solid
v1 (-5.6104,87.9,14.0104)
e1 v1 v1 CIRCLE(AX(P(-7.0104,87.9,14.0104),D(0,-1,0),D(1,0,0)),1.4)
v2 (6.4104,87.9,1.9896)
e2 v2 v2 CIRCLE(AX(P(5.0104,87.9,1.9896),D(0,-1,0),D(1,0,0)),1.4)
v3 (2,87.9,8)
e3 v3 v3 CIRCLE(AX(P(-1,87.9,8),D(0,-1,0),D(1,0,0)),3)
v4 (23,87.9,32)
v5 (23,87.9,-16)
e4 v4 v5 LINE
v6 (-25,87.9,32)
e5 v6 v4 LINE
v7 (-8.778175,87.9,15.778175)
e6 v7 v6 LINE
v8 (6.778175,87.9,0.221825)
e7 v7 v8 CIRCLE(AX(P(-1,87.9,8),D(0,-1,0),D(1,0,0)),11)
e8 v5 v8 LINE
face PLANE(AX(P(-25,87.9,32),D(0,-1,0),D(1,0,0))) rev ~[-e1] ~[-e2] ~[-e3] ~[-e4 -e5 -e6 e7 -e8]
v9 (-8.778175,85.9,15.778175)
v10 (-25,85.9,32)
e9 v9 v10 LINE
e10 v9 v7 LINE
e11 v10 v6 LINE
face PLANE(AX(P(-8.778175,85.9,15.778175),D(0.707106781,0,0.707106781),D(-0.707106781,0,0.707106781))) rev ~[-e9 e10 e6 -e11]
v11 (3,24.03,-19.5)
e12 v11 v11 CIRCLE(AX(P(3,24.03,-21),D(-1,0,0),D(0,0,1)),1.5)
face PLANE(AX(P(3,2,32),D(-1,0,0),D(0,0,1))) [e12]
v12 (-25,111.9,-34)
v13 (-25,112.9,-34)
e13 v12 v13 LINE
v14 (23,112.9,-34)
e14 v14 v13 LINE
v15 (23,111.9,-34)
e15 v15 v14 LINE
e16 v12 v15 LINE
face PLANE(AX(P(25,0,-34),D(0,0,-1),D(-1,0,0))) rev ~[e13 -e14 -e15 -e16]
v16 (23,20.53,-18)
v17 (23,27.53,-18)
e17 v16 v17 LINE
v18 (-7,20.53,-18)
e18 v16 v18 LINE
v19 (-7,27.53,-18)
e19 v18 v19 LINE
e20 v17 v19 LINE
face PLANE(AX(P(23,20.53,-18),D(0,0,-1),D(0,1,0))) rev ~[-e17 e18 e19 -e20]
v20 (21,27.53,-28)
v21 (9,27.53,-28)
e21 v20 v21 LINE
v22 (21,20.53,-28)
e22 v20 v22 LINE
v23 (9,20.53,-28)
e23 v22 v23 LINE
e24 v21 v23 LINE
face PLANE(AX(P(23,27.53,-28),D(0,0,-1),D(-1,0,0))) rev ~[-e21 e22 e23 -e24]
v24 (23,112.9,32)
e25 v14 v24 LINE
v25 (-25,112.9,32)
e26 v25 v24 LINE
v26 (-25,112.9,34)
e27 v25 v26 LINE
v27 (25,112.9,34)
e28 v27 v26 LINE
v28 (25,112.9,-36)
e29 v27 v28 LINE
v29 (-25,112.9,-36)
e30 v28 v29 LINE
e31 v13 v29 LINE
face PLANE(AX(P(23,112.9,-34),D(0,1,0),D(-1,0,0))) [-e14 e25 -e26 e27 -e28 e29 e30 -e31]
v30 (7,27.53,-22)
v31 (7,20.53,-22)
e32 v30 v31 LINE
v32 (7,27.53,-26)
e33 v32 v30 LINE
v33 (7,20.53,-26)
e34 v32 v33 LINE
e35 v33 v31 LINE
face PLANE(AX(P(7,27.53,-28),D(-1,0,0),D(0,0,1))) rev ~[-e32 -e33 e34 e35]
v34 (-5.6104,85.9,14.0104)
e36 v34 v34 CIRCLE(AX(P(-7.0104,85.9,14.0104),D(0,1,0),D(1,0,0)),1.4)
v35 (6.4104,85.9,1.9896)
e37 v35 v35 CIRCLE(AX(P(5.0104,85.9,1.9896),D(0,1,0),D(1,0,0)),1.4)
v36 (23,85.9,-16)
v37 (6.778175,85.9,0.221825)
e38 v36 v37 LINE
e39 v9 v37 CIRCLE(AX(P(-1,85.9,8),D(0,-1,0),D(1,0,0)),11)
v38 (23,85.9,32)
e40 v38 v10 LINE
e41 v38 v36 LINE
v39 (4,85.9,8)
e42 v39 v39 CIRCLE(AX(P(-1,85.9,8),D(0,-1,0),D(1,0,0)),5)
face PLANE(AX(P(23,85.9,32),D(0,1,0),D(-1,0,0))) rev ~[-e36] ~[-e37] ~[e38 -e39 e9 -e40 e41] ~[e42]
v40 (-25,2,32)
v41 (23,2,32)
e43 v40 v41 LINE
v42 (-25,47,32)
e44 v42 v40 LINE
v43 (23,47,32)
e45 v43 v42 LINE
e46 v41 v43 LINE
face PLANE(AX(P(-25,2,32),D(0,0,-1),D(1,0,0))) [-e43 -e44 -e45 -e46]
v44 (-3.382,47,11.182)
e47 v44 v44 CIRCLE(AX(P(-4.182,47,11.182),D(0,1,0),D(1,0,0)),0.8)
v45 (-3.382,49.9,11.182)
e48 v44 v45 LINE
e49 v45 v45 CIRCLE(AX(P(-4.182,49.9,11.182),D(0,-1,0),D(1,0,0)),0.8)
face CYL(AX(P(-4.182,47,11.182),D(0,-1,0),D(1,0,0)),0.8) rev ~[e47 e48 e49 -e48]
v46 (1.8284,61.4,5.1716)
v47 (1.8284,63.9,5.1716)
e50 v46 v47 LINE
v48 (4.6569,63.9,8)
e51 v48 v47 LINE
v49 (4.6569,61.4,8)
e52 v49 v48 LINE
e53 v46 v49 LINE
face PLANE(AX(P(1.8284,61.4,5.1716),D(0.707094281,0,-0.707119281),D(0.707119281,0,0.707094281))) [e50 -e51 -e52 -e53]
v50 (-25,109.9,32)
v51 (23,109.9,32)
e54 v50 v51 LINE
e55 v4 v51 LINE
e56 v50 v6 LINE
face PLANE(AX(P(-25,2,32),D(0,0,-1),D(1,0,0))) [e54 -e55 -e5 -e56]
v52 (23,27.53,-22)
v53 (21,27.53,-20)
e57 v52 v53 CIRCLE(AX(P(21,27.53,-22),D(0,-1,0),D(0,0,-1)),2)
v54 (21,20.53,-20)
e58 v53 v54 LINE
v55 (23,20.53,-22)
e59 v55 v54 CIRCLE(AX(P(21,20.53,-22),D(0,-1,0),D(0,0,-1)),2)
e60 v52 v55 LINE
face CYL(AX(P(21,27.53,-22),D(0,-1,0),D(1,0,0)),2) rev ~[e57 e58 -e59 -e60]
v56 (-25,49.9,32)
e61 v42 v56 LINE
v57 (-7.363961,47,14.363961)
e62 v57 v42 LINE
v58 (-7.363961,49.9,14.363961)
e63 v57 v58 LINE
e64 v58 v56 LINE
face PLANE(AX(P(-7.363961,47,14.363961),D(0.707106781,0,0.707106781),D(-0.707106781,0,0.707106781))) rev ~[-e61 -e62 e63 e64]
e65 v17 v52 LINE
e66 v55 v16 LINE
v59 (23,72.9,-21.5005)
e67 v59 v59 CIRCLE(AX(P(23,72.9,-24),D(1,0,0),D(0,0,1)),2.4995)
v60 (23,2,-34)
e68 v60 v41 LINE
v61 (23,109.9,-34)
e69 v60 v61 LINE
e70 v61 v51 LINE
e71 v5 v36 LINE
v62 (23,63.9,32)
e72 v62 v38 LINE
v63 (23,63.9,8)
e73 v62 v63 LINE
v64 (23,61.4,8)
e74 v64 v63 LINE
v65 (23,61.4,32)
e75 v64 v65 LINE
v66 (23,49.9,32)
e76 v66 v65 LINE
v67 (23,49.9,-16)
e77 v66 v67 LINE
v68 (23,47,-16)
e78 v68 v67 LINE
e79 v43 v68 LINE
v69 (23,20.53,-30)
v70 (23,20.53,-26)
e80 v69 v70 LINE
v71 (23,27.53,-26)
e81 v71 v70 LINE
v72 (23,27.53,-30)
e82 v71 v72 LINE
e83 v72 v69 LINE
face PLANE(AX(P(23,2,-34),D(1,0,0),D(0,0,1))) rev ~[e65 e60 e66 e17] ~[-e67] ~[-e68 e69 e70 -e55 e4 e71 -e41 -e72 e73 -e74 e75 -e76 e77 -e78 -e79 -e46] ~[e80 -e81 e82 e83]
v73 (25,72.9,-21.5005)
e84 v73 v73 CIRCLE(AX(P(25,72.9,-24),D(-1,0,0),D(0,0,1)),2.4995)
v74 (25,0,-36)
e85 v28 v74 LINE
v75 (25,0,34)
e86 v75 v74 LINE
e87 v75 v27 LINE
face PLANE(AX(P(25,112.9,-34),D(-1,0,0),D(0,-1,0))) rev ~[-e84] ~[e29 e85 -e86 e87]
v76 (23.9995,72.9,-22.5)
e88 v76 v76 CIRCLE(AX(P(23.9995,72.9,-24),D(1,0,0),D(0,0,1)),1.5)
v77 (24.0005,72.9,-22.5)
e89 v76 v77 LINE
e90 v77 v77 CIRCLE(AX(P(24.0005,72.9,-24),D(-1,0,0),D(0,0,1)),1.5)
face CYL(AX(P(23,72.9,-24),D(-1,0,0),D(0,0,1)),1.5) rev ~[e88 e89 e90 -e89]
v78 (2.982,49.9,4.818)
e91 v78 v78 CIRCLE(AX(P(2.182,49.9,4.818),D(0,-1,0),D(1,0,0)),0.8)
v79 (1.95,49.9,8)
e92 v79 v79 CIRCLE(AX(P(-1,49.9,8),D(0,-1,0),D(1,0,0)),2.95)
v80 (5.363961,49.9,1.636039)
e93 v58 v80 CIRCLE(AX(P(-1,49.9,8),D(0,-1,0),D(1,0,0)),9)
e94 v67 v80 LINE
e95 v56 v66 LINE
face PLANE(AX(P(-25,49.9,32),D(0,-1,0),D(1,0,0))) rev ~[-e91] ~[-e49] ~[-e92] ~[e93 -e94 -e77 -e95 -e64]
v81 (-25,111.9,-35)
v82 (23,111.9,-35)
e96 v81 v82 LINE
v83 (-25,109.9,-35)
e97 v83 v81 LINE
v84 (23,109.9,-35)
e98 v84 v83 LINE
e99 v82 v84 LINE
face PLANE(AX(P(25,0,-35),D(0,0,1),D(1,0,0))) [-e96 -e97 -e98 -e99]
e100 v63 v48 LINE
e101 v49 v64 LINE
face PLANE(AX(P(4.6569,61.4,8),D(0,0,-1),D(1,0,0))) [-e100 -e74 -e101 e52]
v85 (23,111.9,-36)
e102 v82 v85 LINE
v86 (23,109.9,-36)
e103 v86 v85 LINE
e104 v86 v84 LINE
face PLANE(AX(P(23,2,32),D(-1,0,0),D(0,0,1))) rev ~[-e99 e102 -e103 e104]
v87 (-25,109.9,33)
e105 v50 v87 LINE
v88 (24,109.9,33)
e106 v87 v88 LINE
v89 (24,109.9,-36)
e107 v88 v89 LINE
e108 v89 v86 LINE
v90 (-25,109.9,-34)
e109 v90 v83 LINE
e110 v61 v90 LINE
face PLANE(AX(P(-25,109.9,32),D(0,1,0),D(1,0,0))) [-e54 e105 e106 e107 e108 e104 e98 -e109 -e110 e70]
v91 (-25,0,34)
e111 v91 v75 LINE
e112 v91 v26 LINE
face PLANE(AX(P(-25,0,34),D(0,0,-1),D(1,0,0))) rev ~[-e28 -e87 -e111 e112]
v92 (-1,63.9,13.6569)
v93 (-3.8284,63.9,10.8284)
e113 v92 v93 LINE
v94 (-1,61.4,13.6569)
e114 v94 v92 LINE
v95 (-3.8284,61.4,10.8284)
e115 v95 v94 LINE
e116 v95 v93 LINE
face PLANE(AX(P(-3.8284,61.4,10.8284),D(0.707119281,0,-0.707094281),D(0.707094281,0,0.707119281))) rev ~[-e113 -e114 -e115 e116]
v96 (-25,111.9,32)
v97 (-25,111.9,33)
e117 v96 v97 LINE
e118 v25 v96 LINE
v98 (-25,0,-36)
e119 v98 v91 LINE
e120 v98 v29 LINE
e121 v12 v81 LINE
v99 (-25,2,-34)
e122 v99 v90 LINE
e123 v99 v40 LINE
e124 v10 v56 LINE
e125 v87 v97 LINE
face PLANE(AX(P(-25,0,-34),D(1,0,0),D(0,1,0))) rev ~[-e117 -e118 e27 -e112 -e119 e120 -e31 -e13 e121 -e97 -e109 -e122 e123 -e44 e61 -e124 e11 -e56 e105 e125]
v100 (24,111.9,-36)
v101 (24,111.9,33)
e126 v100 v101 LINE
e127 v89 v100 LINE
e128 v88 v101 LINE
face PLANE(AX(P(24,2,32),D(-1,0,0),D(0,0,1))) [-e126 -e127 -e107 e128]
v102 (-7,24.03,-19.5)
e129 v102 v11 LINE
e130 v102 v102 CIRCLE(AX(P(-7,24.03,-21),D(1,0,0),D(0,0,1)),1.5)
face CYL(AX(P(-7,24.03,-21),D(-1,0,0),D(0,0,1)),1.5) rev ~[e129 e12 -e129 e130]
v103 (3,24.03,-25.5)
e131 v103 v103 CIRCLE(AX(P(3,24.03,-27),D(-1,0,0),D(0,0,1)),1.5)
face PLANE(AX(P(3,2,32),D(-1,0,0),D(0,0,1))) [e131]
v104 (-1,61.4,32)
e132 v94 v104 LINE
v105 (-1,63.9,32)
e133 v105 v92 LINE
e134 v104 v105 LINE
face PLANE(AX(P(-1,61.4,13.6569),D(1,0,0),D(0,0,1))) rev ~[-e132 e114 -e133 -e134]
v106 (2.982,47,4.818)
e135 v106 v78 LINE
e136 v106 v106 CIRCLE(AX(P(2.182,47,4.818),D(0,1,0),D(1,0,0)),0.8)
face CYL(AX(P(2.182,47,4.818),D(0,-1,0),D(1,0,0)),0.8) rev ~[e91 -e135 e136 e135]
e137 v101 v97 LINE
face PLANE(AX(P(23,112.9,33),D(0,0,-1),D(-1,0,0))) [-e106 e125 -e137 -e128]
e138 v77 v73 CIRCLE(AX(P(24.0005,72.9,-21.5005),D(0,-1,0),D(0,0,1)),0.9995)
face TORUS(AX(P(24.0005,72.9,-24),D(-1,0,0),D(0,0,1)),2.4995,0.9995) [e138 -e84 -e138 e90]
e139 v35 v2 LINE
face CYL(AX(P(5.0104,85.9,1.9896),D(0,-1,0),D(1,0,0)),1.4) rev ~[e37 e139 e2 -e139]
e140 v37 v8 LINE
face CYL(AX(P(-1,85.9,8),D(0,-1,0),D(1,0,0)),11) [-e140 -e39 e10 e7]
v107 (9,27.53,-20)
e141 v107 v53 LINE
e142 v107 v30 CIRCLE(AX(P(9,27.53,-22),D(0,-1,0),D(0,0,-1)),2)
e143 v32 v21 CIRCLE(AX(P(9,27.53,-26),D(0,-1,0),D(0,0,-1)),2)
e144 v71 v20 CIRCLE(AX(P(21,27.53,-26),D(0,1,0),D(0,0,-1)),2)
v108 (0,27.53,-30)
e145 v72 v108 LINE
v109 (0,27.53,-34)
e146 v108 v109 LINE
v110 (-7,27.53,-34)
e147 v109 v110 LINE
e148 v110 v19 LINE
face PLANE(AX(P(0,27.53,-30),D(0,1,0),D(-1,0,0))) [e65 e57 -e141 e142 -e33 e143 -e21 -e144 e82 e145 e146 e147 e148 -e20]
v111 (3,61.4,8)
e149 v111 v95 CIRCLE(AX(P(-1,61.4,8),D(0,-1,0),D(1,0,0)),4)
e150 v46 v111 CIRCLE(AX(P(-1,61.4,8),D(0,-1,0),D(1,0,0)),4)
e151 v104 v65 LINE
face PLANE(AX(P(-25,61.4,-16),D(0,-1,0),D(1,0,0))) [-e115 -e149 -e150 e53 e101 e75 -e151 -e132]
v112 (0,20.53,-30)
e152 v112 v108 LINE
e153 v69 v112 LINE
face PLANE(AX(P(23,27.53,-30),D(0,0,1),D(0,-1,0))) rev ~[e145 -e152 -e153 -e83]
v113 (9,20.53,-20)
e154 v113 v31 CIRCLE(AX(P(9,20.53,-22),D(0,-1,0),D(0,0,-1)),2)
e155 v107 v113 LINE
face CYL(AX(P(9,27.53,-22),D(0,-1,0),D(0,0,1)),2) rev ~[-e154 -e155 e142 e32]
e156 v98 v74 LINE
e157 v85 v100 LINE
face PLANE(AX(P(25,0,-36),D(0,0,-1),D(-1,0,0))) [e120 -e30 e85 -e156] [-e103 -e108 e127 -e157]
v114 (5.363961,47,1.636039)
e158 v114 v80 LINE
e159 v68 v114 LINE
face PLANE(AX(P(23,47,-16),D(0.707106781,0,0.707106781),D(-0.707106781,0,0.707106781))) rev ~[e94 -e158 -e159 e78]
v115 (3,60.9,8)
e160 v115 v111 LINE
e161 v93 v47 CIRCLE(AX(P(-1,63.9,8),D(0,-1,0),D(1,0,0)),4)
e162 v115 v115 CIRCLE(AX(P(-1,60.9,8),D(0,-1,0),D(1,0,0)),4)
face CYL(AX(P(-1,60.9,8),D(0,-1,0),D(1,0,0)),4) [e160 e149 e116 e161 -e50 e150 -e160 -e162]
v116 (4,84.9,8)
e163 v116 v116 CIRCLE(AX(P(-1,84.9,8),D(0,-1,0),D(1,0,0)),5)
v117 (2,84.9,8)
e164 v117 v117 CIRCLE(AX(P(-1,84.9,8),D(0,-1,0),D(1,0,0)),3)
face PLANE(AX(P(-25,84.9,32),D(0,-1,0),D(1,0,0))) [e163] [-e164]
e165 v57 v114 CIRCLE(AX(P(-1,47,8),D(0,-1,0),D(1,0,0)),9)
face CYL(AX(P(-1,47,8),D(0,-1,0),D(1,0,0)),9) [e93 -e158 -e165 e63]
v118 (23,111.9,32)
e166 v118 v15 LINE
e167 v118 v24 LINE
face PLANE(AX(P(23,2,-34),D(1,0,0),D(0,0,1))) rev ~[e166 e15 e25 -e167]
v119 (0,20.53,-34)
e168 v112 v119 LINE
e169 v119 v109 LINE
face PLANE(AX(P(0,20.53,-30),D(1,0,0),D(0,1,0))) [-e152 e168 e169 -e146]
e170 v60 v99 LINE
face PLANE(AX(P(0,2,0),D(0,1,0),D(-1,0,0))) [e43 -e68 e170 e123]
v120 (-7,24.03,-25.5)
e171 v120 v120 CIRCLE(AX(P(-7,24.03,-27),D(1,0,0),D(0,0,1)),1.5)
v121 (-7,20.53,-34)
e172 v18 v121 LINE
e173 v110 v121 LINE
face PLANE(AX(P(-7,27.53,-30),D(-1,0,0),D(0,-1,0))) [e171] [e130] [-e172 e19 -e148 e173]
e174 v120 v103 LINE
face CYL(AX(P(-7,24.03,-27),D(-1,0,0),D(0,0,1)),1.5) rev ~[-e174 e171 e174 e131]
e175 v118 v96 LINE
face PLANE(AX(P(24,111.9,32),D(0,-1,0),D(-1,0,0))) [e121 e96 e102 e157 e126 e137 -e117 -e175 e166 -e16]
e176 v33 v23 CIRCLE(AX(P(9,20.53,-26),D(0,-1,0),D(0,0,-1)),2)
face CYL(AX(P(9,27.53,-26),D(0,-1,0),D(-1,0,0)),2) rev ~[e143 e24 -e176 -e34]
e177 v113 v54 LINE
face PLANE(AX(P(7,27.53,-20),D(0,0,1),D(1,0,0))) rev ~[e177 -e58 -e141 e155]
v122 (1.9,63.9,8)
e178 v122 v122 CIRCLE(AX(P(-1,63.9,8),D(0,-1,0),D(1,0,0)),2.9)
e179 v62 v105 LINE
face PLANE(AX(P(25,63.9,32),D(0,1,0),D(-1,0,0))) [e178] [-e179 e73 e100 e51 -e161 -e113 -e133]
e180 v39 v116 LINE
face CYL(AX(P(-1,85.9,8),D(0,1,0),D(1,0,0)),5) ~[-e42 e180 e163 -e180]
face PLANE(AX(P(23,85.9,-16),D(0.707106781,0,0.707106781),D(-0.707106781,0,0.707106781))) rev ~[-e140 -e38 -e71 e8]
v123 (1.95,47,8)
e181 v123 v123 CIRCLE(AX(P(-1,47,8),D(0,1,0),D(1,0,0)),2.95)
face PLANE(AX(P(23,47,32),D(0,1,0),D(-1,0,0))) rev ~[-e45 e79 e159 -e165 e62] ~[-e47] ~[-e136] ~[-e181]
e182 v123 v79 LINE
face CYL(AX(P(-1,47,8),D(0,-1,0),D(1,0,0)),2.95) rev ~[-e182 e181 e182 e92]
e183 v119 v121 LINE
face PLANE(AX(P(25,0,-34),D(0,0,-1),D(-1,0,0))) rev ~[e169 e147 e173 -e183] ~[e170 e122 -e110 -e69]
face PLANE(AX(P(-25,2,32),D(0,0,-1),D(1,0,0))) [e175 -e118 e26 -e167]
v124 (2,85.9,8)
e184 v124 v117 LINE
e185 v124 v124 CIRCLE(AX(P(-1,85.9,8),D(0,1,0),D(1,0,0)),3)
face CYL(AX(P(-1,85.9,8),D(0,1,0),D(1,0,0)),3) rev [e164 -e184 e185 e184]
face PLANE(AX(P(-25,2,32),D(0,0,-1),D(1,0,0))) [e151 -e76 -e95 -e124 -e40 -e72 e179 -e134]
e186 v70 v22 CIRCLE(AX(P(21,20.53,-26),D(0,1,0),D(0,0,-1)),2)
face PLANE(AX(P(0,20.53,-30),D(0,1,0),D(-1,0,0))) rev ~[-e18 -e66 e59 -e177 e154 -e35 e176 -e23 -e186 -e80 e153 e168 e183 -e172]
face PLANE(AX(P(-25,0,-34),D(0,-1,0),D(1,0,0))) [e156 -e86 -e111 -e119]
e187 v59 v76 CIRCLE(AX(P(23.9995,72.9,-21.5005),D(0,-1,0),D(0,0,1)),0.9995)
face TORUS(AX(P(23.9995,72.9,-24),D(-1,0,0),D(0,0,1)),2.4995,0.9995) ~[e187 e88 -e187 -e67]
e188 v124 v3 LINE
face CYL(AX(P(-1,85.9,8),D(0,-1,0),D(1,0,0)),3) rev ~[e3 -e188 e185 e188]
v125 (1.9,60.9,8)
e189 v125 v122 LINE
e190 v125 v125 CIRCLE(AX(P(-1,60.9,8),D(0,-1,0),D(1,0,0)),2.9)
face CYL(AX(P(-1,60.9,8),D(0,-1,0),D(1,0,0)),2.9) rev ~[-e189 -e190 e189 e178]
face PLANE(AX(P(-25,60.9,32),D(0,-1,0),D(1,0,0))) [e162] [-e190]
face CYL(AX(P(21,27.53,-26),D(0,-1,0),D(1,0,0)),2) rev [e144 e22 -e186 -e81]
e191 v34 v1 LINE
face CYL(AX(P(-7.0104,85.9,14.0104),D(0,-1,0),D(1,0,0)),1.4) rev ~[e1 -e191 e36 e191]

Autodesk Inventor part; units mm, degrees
ref_plane "YZ Plane" through (0, 0, 0) normal (1, 0, 0) x (0, 1, 0)
ref_plane "XZ Plane" through (0, 0, 0) normal (0, 1, 0) x (-1, 0, 0)
ref_plane "XY Plane" through (0, 0, 0) normal (0, 0, 1) x (1, 0, 0)
sketch "Sketch1" plane through (0, 0, 0) normal (0, 1, 0) x (-1, 0, 0)
  line L0 (25, 34) -> (-25, 34)
  line L1 (-25, 34) -> (-25, -34)
  line L2 (-25, -34) -> (25, -34)
  line L3 (25, -34) -> (25, 34)
  line L4 (25, 34) -> (-25, -34) construction
  line L5 (-25, 34) -> (25, -34) construction
  point P0 (0, 0)
  dimension "d0" = 68
  dimension "d1" = 50
extrude "left wall" add sketch "Sketch1" along normal blind 2
sketch "Sketch3" plane through (0, 2, 0) normal (0, 1, 0) x (1, 0, 0)
  line L0 (25, -34) -> (25, 34) projected
  line L1 (-25, 34) -> (-25, -34) projected
  line L2 (25, -34) -> (-25, -34)
  line L3 (-25, -34) -> (-25, -32)
  line L4 (-25, -32) -> (25, -32)
  line L5 (25, -32) -> (25, -34)
  point P0 (0, 0)
  dimension "d4" = 2
extrude "bottom wall" add sketch "Sketch3" along normal blind 110.9
sketch "Sketch10" plane through (-25, 2, 32) normal (0, 0, -1) x (-1, 0, 0)
  line L0 (0, 0) -> (0, 110.9) projected
  line L1 (-50, 0) -> (-50, 110.9) projected
  line L2 (0, 58.9) -> (-50, 58.9)
  line L3 (-50, 58.9) -> (-50, 61.9)
  line L4 (-50, 61.9) -> (0, 61.9)
  line L5 (0, 61.9) -> (0, 58.9)
  line L6 (-50, 0) -> (0, 0) projected
  point P0 (-25, -2)
  point P1 (0, 61.9)
  point P2 (-50, 58.9)
  dimension "d33" = 3
  dimension "d34" = 58.9
extrude "mid wall" add sketch "Sketch10" along normal blind 48 contours L2 L1 L4 L0
sketch "Sketch11" plane through (-25, 60.9, 32) normal (0, -1, 0) x (1, 0, 0)
  circle A0 centre (24, -24) radius 2.9
  line L0 (0, 0) -> (0, -48) projected
  line L1 (0, -48) -> (50, -48) projected
  dimension "d37" = 5.8
  dimension "d136" = 24
  dimension "d137" = 24
extrude "middle bearing hole" cut sketch "Sketch11" against normal blind 48
sketch "Sketch15" plane through (0, 2, 0) normal (0, 1, 0) x (1, 0, 0)
  line L0 (25, 34) -> (-25, 34) projected
  line L1 (-25, -32) -> (25, -32) projected
  line L2 (25, 34) -> (23, 34)
  line L3 (23, 34) -> (23, -32)
  line L4 (23, -32) -> (25, -32)
  line L5 (25, -32) -> (25, 34)
  point P0 (0, 0)
  point P1 (25, -32)
  dimension "d69" = 2
extrude "back wall" add sketch "Sketch15" along normal blind 110.9
sketch "Sketch20" plane through (-25, 60.9, -16) normal (0, -1, 0) x (1, 0, 0)
  circle A0 centre (24, 24) radius 4
  line L0 (0, 48) -> (48, 48) projected
  line L1 (48, -18) -> (0, -18)
  line L2 (0, -18) -> (0, 48)
  line L3 (0, 48) -> (48, 48)
  line L4 (48, 48) -> (48, -18)
  line L5 (0, 0) -> (48, 0) projected
  point P0 (25, 16)
  point P1 (48, 48)
  point P2 (24, 0)
  dimension "d106" = 8
  dimension "d138" = 24
  dimension "d139" = 24
extrude "thicker mid wall ring for bearing" cut sketch "Sketch20" against normal blind 0.5
sketch "Sketch21" plane through (23, 2, 32) normal (0, 0, -1) x (-1, 0, 0)
  line L0 (0, 0) -> (0, 59.4) projected
  line L1 (48, -2) -> (48, 110.9) projected
  line L2 (0, 45) -> (48, 45)
  line L3 (48, 45) -> (48, 47.9)
  line L4 (48, 47.9) -> (0, 47.9)
  line L5 (0, 47.9) -> (0, 45)
  line L6 (0, 0) -> (48, 0) projected
  point P0 (23, -2)
  dimension "d110" = 45
  dimension "d111" = 2.9
extrude "motor attachment wall" add sketch "Sketch21" along normal up to surface (66 mm away) contours L0 L4 L1 L2
sketch "Sketch24" plane through (-25, 47, 32) normal (0, -1, 0) x (1, 0, 0)
  circle A0 centre (24, -24) radius 2.95
  circle A1 centre (20.818, -20.818) radius 0.8
  circle A2 centre (27.182, -27.182) radius 0.8
  line L0 (48, -66) -> (48, 0) projected
  line L1 (0, 0) -> (0, -66) projected
  line L2 (48, 0) -> (0, 0)
  line L3 (0, 0) -> (0, -48)
  line L4 (0, -48) -> (48, -48)
  line L5 (48, -48) -> (48, 0)
  line L6 (48, -48) -> (0, 0)
  point P0 (25, 14.5)
  dimension "d119" = 5.9
  dimension "d125" = 48
  dimension "d126" = 62.5
  dimension "d127" = 24
  dimension "d128" = 24
  dimension "d131" = 1.6
  dimension "d132" = 4.5
  dimension "d133" = 4.5
extrude "motor holes" cut sketch "Sketch24" against normal up to surface (2.9 mm away) contours A0 L6 | L6 A0 | L6 A1 | A1 L6 | L6 A2 | A2 L6
sketch "Sketch25" plane through (-25, 47, 32) normal (0, -1, 0) x (1, 0, 0)
  line L0 (48, -48) -> (0, 0)
  line L1 (0, 0) -> (0, -66) projected
  line L2 (0, 0) -> (0, -66)
  line L3 (48, -66) -> (0, -66) projected
  circle A0 centre (24, -24) radius 2.95 projected
  circle A1 centre (24, -24) radius 9
  line L4 (48, -48) -> (0, -48) projected
  line L5 (48, -48) -> (48, -66)
  line L6 (50, 2) -> (50, -66) projected
  line L7 (0, 0) -> (0, 2) projected
  line L8 (0, -66) -> (0, 0)
  point P0 (25, -32)
  point P1 (30.364, -30.364)
  point P2 (17.636, -17.636)
  dimension "d134" = 18
extrude "motor attachment wall cut out" cut sketch "Sketch25" against normal blind 3.075 contours L4 L1 L0 A1 | L5 L3 L1 L4
sketch "Sketch26" plane through (-25, 61.4, -16) normal (0, -1, 0) x (1, 0, 0)
  line L0 (48, 0) -> (0, 48)
  circle A0 centre (24, 24) radius 4
  circle A1 centre (24, 24) radius 2.9 projected
  line L1 (0, 0) -> (48, 0) projected
  line L2 (48, 0) -> (0, 0)
  line L3 (0, 48) -> (0, 50) projected
  line L4 (0, 0) -> (0, 48)
  line L5 (24, 24) -> (48, 24)
  line L6 (48, 48) -> (48, 0) projected
  line L7 (24, 24) -> (24, 48)
  line L8 (48, 48) -> (0, 48) projected
  line L9 (21.1716, 26.8284) -> (24, 29.6569)
  line L10 (26.8284, 21.1716) -> (29.6569, 24)
  point P0 (25, -38)
  point P1 (24, 28)
  dimension "d140" = 8
extrude "mid wall cut out" cut sketch "Sketch26" against normal blind 3.075 contours L1 L4 L0 A0 | L0 L10 L5 L6 | L0 L8 L7 L9
sketch "Sketch27" plane through (23, 112.9, 32) normal (0, 0, -1) x (-1, 0, 0)
  line L0 (0, 0) -> (0, -49) projected
  line L1 (48, -112.9) -> (48, 0) projected
  line L2 (0, -27) -> (48, -27)
  line L3 (48, -27) -> (48, -25)
  line L4 (48, -25) -> (0, -25)
  line L5 (0, -25) -> (0, -27)
  line L6 (0, -110.9) -> (48, -110.9) projected
  point P0 (23, -112.9)
  point P1 (0, -25)
  dimension "d144" = 83.9
  dimension "d145" = 2
extrude "encoder wall" add sketch "Sketch27" along normal blind 48
sketch "Sketch28" plane through (-25, 85.9, 32) normal (0, -1, 0) x (1, 0, 0)
  line L0 (48, -48) -> (48, 0) projected
  line L1 (0, 0) -> (0, 2) projected
  line L2 (48, -48) -> (0, 0)
  circle A0 centre (24, -24) radius 3
  circle A1 centre (30.0104, -30.0104) radius 1.4
  circle A2 centre (17.9896, -17.9896) radius 1.4
  dimension "d153" = 6
  dimension "d154" = 8.5
  dimension "d155" = 8.5
  dimension "d156" = 2.8
  dimension "d157" = 2.8
extrude "encoder holes" cut sketch "Sketch28" against normal blind 48
sketch "Sketch29" plane through (-25, 85.9, 32) normal (0, -1, 0) x (1, 0, 0)
  line L0 (0, -48) -> (48, -48) projected
  line L1 (48, 0) -> (0, 0) projected
  line L2 (48, -48) -> (0, 0)
  circle A0 centre (24, -24) radius 11
  line L3 (0, 0) -> (0, 2) projected
  line L4 (0, 0) -> (0, -48)
  line L5 (0, -48) -> (48, -48)
  point P0 (25, -32)
  point P1 (31.7782, -31.7782)
  point P2 (16.2218, -16.2218)
  dimension "d160" = 22
extrude "encoder wall cut out" cut sketch "Sketch29" against normal blind 48 contours L4 L2 A0 L0
sketch "Sketch30" plane through (25, 0, -34) normal (0, 0, -1) x (-1, 0, 0)
  line L0 (2, 112.9) -> (50, 112.9) projected
  line L1 (50, 0) -> (0, 0) projected
  line L2 (50, 112.9) -> (0, 112.9)
  line L3 (0, 112.9) -> (0, 0)
  line L4 (0, 0) -> (50, 0)
  line L5 (50, 0) -> (50, 112.9)
  point P0 (25, 0)
extrude "top" add sketch "Sketch30" along normal blind 2
sketch "Sketch31" plane through (25, 0, -34) normal (0, 0, 1) x (1, 0, 0)
  point P0 (-25, 0)
sketch "Sketch32" plane through (25, 0, -34) normal (0, 0, 1) x (1, 0, 0)
  line L0 (-50, 0) -> (-50, 112.9) projected
  line L1 (0, 112.9) -> (0, 0) projected
  line L2 (-50, 111.9) -> (-1, 111.9)
  line L3 (-1, 111.9) -> (-1, 109.9)
  line L4 (-1, 109.9) -> (-50, 109.9)
  line L5 (-50, 109.9) -> (-50, 111.9)
  line L6 (-50, 112.9) -> (0, 112.9) projected
  point P0 (-25, 0)
  point P1 (0, 112.9)
  dimension "d165" = 1
  dimension "d166" = 2
  dimension "d177" = 1
extrude "top rightWallGroove" cut sketch "Sketch32" against normal blind 1
sketch "Sketch33" plane through (23, 2, 32) normal (-1, 0, 0) x (0, 0, 1)
  line L0 (-78, 107.9) -> (-78, 104.9)
  line L1 (0, 110.9) -> (0, 85.9) projected
  line L2 (-78, 107.9) -> (0, 107.9)
  line L3 (0, 107.9) -> (0, 109.9)
  line L4 (0, 109.9) -> (-78, 109.9)
  line L5 (-78, 109.9) -> (-78, 107.9)
  line L6 (-66, 110.9) -> (0, 110.9) projected
  point P0 (-32, -2)
  point P1 (-78, 109.9)
  point P2 (0, 107.9)
  dimension "d169" = 2
  dimension "d178" = 1
extrude "back rightWallGroove" cut sketch "Sketch33" against normal blind 1
sketch "Sketch34" plane through (23, 112.9, 32) normal (0, 0, -1) x (-1, 0, 0)
  line L0 (48, -112.9) -> (48, 0) projected
  line L1 (48, -3) -> (-1, -3)
  line L2 (-1, -3) -> (-1, -1)
  line L3 (-1, -1) -> (48, -1)
  line L4 (48, -1) -> (48, -3)
  line L5 (48, 0) -> (-2, 0) projected
  line L6 (-2, -112.9) -> (-2, 0) projected
  point P0 (23, -112.9)
  point P1 (-1, -2)
  point P2 (48, -1)
  dimension "d172" = 1
  dimension "d173" = 2
  dimension "d174" = 1
extrude "bottom rightWallGroove" cut sketch "Sketch34" against normal blind 1
sketch "Sketch35" plane through (-25, 85.9, 32) normal (0, -1, 0) x (1, 0, 0)
  circle A0 centre (24, -24) radius 3 projected
  circle A1 centre (24, -24) radius 3
  circle A2 centre (24, -24) radius 5
  point P0 (25, -32)
  dimension "d179" = 2
extrude "encoder bearing thicker" add sketch "Sketch35" along normal blind 1
ref_plane "Work Plane4" through (-1, 72.9, 32) normal (0, 1, 0) x (1, 0, 0)
sketch "Sketch38" plane through (23, 2, 32) normal (-1, 0, 0) x (0, 0, 1)
  line L0 (-66, 0) -> (-66, 107.9) projected
  line L1 (-66, 70.9) -> (-23.3371, 70.9)
  line L2 (-66, 0) -> (0, 0) projected
  line L3 (-56, 0) -> (-56, 123.7656)
  line L4 (-48, 45) -> (-48, 47.9) projected
  line L5 (-82, 70.9) -> (16, 70.9) projected
  line L6 (-62, 18.53) -> (-50, 18.53)
  line L7 (-50, 18.53) -> (-50, 25.53)
  line L8 (-50, 25.53) -> (-62, 25.53)
  line L9 (-62, 25.53) -> (-62, 18.53)
  line L10 (-62, 18.53) -> (-50, 25.53) construction
  line L11 (-50, 18.53) -> (-62, 25.53) construction
  circle A0 centre (-56, 70.9) radius 1.5
  point P0 (-32, -2)
  point P1 (-48, 46.45)
  point P2 (-56, 22.03)
  dimension "d195" = 8
  dimension "d196" = 0
  dimension "d197" = 7
  dimension "d198" = 12
  dimension "d199" = 52.37
  dimension "d202" = 3
extrude "loadcell block" add sketch "Sketch38" along normal blind 30 contours L6 L9 L8 L3 | L3 L8 L7 L6
extrude "wire exit" cut sketch "Sketch38" against normal blind 30 contours A0 L3 L1 | L1 L3 A0 | L3 A0 L1 | L1 A0 L3
sketch "Sketch39" plane through (-7, 2, 32) normal (-1, 0, 0) x (0, 0, 1)
  line L0 (-50, 25.53) -> (-50, 18.53) projected
  line L1 (-50, 22.03) -> (-62, 22.03)
  line L2 (-62, 25.53) -> (-62, 18.53) projected
  line L3 (-62, 18.53) -> (-50, 18.53) projected
  line L4 (-50, 18.53) -> (-62, 18.53) projected
  line L5 (-56, 18.53) -> (-56, 25.53)
  line L6 (-62, 25.53) -> (-50, 25.53) projected
  circle A0 centre (-59, 22.03) radius 1.5
  circle A1 centre (-53, 22.03) radius 1.5
  point P0 (-32, -2)
  dimension "d205" = 3.5
  dimension "d206" = 6
  dimension "d207" = 6
  dimension "d208" = 3
  dimension "d209" = 3
extrude "loadcell screw holes" cut sketch "Sketch39" against normal blind 10 contours A1 L1 | L1 A1 | A0 L1 | L1 A0
sketch "Sketch40" plane through (23, 27.53, -18) normal (0, 1, 0) x (1, 0, 0)
  line L0 (0, -52) -> (0, 16) projected
  line L1 (0, 10) -> (-16, 10)
  line L2 (-16, 10) -> (-16, 2)
  line L3 (-16, 2) -> (0, 2)
  line L4 (0, 2) -> (0, 10)
  line L5 (-30, 0) -> (-30, 12) projected
  line L6 (0, 0) -> (-30, 0) projected
  line L7 (0, 12) -> (-30, 12) projected
  point P0 (-23, -18)
  point P1 (-16, 6)
  point P2 (-30, 6)
  point P3 (0, 2)
  dimension "d215" = 14
  dimension "d216" = 2
  dimension "d217" = 2
extrude "Extrusion32" cut sketch "Sketch40" against normal blind 10 contours L3 L2 L1 L0
fillet "Fillet1" radius 2 4 edges at (7, 24.03, -28) (7, 24.03, -20) (23, 24.03, -20) (23, 24.03, -28)
fillet "Fillet2" radius 1 2 edges at (23, 72.9, -25.5) (25, 72.9, -25.5)
sketch "Sketch41" plane through (23, 20.53, -30) normal (0, 0, -1) x (-1, 0, 0)
  line L0 (0, 0) -> (30, 0) projected
  line L1 (0, 7) -> (30, 7) projected
  line L2 (30, 0) -> (23, 0)
  line L3 (23, 0) -> (23, 7)
  line L4 (23, 7) -> (30, 7)
  line L5 (30, 7) -> (30, 0)
  point P0 (23, -20.53)
  point P1 (23, 3.5)
  point P2 (23, 0)
  dimension "d225" = 7
extrude "load cell block support" add sketch "Sketch41" along normal up to surface (4 mm away)
equation "\"d136\" = d127"
equation "\"d137\" = d136"
equation "\"d69\" = d4"
equation "\"d70\" = d5"
equation "\"d138\" = d136"
equation "\"d139\" = d138"
equation "\"d127\" = 0.5 * d125"
equation "\"d128\" = d127"
equation "\"d133\" = d132"
equation "\"d134\" = 4 * d132"
equation "\"d140\" = d106"
equation "\"d146\" = d125"
equation "\"d5\" = 110.9"
properties part number "motor_maincase1.1_3DPrint"
